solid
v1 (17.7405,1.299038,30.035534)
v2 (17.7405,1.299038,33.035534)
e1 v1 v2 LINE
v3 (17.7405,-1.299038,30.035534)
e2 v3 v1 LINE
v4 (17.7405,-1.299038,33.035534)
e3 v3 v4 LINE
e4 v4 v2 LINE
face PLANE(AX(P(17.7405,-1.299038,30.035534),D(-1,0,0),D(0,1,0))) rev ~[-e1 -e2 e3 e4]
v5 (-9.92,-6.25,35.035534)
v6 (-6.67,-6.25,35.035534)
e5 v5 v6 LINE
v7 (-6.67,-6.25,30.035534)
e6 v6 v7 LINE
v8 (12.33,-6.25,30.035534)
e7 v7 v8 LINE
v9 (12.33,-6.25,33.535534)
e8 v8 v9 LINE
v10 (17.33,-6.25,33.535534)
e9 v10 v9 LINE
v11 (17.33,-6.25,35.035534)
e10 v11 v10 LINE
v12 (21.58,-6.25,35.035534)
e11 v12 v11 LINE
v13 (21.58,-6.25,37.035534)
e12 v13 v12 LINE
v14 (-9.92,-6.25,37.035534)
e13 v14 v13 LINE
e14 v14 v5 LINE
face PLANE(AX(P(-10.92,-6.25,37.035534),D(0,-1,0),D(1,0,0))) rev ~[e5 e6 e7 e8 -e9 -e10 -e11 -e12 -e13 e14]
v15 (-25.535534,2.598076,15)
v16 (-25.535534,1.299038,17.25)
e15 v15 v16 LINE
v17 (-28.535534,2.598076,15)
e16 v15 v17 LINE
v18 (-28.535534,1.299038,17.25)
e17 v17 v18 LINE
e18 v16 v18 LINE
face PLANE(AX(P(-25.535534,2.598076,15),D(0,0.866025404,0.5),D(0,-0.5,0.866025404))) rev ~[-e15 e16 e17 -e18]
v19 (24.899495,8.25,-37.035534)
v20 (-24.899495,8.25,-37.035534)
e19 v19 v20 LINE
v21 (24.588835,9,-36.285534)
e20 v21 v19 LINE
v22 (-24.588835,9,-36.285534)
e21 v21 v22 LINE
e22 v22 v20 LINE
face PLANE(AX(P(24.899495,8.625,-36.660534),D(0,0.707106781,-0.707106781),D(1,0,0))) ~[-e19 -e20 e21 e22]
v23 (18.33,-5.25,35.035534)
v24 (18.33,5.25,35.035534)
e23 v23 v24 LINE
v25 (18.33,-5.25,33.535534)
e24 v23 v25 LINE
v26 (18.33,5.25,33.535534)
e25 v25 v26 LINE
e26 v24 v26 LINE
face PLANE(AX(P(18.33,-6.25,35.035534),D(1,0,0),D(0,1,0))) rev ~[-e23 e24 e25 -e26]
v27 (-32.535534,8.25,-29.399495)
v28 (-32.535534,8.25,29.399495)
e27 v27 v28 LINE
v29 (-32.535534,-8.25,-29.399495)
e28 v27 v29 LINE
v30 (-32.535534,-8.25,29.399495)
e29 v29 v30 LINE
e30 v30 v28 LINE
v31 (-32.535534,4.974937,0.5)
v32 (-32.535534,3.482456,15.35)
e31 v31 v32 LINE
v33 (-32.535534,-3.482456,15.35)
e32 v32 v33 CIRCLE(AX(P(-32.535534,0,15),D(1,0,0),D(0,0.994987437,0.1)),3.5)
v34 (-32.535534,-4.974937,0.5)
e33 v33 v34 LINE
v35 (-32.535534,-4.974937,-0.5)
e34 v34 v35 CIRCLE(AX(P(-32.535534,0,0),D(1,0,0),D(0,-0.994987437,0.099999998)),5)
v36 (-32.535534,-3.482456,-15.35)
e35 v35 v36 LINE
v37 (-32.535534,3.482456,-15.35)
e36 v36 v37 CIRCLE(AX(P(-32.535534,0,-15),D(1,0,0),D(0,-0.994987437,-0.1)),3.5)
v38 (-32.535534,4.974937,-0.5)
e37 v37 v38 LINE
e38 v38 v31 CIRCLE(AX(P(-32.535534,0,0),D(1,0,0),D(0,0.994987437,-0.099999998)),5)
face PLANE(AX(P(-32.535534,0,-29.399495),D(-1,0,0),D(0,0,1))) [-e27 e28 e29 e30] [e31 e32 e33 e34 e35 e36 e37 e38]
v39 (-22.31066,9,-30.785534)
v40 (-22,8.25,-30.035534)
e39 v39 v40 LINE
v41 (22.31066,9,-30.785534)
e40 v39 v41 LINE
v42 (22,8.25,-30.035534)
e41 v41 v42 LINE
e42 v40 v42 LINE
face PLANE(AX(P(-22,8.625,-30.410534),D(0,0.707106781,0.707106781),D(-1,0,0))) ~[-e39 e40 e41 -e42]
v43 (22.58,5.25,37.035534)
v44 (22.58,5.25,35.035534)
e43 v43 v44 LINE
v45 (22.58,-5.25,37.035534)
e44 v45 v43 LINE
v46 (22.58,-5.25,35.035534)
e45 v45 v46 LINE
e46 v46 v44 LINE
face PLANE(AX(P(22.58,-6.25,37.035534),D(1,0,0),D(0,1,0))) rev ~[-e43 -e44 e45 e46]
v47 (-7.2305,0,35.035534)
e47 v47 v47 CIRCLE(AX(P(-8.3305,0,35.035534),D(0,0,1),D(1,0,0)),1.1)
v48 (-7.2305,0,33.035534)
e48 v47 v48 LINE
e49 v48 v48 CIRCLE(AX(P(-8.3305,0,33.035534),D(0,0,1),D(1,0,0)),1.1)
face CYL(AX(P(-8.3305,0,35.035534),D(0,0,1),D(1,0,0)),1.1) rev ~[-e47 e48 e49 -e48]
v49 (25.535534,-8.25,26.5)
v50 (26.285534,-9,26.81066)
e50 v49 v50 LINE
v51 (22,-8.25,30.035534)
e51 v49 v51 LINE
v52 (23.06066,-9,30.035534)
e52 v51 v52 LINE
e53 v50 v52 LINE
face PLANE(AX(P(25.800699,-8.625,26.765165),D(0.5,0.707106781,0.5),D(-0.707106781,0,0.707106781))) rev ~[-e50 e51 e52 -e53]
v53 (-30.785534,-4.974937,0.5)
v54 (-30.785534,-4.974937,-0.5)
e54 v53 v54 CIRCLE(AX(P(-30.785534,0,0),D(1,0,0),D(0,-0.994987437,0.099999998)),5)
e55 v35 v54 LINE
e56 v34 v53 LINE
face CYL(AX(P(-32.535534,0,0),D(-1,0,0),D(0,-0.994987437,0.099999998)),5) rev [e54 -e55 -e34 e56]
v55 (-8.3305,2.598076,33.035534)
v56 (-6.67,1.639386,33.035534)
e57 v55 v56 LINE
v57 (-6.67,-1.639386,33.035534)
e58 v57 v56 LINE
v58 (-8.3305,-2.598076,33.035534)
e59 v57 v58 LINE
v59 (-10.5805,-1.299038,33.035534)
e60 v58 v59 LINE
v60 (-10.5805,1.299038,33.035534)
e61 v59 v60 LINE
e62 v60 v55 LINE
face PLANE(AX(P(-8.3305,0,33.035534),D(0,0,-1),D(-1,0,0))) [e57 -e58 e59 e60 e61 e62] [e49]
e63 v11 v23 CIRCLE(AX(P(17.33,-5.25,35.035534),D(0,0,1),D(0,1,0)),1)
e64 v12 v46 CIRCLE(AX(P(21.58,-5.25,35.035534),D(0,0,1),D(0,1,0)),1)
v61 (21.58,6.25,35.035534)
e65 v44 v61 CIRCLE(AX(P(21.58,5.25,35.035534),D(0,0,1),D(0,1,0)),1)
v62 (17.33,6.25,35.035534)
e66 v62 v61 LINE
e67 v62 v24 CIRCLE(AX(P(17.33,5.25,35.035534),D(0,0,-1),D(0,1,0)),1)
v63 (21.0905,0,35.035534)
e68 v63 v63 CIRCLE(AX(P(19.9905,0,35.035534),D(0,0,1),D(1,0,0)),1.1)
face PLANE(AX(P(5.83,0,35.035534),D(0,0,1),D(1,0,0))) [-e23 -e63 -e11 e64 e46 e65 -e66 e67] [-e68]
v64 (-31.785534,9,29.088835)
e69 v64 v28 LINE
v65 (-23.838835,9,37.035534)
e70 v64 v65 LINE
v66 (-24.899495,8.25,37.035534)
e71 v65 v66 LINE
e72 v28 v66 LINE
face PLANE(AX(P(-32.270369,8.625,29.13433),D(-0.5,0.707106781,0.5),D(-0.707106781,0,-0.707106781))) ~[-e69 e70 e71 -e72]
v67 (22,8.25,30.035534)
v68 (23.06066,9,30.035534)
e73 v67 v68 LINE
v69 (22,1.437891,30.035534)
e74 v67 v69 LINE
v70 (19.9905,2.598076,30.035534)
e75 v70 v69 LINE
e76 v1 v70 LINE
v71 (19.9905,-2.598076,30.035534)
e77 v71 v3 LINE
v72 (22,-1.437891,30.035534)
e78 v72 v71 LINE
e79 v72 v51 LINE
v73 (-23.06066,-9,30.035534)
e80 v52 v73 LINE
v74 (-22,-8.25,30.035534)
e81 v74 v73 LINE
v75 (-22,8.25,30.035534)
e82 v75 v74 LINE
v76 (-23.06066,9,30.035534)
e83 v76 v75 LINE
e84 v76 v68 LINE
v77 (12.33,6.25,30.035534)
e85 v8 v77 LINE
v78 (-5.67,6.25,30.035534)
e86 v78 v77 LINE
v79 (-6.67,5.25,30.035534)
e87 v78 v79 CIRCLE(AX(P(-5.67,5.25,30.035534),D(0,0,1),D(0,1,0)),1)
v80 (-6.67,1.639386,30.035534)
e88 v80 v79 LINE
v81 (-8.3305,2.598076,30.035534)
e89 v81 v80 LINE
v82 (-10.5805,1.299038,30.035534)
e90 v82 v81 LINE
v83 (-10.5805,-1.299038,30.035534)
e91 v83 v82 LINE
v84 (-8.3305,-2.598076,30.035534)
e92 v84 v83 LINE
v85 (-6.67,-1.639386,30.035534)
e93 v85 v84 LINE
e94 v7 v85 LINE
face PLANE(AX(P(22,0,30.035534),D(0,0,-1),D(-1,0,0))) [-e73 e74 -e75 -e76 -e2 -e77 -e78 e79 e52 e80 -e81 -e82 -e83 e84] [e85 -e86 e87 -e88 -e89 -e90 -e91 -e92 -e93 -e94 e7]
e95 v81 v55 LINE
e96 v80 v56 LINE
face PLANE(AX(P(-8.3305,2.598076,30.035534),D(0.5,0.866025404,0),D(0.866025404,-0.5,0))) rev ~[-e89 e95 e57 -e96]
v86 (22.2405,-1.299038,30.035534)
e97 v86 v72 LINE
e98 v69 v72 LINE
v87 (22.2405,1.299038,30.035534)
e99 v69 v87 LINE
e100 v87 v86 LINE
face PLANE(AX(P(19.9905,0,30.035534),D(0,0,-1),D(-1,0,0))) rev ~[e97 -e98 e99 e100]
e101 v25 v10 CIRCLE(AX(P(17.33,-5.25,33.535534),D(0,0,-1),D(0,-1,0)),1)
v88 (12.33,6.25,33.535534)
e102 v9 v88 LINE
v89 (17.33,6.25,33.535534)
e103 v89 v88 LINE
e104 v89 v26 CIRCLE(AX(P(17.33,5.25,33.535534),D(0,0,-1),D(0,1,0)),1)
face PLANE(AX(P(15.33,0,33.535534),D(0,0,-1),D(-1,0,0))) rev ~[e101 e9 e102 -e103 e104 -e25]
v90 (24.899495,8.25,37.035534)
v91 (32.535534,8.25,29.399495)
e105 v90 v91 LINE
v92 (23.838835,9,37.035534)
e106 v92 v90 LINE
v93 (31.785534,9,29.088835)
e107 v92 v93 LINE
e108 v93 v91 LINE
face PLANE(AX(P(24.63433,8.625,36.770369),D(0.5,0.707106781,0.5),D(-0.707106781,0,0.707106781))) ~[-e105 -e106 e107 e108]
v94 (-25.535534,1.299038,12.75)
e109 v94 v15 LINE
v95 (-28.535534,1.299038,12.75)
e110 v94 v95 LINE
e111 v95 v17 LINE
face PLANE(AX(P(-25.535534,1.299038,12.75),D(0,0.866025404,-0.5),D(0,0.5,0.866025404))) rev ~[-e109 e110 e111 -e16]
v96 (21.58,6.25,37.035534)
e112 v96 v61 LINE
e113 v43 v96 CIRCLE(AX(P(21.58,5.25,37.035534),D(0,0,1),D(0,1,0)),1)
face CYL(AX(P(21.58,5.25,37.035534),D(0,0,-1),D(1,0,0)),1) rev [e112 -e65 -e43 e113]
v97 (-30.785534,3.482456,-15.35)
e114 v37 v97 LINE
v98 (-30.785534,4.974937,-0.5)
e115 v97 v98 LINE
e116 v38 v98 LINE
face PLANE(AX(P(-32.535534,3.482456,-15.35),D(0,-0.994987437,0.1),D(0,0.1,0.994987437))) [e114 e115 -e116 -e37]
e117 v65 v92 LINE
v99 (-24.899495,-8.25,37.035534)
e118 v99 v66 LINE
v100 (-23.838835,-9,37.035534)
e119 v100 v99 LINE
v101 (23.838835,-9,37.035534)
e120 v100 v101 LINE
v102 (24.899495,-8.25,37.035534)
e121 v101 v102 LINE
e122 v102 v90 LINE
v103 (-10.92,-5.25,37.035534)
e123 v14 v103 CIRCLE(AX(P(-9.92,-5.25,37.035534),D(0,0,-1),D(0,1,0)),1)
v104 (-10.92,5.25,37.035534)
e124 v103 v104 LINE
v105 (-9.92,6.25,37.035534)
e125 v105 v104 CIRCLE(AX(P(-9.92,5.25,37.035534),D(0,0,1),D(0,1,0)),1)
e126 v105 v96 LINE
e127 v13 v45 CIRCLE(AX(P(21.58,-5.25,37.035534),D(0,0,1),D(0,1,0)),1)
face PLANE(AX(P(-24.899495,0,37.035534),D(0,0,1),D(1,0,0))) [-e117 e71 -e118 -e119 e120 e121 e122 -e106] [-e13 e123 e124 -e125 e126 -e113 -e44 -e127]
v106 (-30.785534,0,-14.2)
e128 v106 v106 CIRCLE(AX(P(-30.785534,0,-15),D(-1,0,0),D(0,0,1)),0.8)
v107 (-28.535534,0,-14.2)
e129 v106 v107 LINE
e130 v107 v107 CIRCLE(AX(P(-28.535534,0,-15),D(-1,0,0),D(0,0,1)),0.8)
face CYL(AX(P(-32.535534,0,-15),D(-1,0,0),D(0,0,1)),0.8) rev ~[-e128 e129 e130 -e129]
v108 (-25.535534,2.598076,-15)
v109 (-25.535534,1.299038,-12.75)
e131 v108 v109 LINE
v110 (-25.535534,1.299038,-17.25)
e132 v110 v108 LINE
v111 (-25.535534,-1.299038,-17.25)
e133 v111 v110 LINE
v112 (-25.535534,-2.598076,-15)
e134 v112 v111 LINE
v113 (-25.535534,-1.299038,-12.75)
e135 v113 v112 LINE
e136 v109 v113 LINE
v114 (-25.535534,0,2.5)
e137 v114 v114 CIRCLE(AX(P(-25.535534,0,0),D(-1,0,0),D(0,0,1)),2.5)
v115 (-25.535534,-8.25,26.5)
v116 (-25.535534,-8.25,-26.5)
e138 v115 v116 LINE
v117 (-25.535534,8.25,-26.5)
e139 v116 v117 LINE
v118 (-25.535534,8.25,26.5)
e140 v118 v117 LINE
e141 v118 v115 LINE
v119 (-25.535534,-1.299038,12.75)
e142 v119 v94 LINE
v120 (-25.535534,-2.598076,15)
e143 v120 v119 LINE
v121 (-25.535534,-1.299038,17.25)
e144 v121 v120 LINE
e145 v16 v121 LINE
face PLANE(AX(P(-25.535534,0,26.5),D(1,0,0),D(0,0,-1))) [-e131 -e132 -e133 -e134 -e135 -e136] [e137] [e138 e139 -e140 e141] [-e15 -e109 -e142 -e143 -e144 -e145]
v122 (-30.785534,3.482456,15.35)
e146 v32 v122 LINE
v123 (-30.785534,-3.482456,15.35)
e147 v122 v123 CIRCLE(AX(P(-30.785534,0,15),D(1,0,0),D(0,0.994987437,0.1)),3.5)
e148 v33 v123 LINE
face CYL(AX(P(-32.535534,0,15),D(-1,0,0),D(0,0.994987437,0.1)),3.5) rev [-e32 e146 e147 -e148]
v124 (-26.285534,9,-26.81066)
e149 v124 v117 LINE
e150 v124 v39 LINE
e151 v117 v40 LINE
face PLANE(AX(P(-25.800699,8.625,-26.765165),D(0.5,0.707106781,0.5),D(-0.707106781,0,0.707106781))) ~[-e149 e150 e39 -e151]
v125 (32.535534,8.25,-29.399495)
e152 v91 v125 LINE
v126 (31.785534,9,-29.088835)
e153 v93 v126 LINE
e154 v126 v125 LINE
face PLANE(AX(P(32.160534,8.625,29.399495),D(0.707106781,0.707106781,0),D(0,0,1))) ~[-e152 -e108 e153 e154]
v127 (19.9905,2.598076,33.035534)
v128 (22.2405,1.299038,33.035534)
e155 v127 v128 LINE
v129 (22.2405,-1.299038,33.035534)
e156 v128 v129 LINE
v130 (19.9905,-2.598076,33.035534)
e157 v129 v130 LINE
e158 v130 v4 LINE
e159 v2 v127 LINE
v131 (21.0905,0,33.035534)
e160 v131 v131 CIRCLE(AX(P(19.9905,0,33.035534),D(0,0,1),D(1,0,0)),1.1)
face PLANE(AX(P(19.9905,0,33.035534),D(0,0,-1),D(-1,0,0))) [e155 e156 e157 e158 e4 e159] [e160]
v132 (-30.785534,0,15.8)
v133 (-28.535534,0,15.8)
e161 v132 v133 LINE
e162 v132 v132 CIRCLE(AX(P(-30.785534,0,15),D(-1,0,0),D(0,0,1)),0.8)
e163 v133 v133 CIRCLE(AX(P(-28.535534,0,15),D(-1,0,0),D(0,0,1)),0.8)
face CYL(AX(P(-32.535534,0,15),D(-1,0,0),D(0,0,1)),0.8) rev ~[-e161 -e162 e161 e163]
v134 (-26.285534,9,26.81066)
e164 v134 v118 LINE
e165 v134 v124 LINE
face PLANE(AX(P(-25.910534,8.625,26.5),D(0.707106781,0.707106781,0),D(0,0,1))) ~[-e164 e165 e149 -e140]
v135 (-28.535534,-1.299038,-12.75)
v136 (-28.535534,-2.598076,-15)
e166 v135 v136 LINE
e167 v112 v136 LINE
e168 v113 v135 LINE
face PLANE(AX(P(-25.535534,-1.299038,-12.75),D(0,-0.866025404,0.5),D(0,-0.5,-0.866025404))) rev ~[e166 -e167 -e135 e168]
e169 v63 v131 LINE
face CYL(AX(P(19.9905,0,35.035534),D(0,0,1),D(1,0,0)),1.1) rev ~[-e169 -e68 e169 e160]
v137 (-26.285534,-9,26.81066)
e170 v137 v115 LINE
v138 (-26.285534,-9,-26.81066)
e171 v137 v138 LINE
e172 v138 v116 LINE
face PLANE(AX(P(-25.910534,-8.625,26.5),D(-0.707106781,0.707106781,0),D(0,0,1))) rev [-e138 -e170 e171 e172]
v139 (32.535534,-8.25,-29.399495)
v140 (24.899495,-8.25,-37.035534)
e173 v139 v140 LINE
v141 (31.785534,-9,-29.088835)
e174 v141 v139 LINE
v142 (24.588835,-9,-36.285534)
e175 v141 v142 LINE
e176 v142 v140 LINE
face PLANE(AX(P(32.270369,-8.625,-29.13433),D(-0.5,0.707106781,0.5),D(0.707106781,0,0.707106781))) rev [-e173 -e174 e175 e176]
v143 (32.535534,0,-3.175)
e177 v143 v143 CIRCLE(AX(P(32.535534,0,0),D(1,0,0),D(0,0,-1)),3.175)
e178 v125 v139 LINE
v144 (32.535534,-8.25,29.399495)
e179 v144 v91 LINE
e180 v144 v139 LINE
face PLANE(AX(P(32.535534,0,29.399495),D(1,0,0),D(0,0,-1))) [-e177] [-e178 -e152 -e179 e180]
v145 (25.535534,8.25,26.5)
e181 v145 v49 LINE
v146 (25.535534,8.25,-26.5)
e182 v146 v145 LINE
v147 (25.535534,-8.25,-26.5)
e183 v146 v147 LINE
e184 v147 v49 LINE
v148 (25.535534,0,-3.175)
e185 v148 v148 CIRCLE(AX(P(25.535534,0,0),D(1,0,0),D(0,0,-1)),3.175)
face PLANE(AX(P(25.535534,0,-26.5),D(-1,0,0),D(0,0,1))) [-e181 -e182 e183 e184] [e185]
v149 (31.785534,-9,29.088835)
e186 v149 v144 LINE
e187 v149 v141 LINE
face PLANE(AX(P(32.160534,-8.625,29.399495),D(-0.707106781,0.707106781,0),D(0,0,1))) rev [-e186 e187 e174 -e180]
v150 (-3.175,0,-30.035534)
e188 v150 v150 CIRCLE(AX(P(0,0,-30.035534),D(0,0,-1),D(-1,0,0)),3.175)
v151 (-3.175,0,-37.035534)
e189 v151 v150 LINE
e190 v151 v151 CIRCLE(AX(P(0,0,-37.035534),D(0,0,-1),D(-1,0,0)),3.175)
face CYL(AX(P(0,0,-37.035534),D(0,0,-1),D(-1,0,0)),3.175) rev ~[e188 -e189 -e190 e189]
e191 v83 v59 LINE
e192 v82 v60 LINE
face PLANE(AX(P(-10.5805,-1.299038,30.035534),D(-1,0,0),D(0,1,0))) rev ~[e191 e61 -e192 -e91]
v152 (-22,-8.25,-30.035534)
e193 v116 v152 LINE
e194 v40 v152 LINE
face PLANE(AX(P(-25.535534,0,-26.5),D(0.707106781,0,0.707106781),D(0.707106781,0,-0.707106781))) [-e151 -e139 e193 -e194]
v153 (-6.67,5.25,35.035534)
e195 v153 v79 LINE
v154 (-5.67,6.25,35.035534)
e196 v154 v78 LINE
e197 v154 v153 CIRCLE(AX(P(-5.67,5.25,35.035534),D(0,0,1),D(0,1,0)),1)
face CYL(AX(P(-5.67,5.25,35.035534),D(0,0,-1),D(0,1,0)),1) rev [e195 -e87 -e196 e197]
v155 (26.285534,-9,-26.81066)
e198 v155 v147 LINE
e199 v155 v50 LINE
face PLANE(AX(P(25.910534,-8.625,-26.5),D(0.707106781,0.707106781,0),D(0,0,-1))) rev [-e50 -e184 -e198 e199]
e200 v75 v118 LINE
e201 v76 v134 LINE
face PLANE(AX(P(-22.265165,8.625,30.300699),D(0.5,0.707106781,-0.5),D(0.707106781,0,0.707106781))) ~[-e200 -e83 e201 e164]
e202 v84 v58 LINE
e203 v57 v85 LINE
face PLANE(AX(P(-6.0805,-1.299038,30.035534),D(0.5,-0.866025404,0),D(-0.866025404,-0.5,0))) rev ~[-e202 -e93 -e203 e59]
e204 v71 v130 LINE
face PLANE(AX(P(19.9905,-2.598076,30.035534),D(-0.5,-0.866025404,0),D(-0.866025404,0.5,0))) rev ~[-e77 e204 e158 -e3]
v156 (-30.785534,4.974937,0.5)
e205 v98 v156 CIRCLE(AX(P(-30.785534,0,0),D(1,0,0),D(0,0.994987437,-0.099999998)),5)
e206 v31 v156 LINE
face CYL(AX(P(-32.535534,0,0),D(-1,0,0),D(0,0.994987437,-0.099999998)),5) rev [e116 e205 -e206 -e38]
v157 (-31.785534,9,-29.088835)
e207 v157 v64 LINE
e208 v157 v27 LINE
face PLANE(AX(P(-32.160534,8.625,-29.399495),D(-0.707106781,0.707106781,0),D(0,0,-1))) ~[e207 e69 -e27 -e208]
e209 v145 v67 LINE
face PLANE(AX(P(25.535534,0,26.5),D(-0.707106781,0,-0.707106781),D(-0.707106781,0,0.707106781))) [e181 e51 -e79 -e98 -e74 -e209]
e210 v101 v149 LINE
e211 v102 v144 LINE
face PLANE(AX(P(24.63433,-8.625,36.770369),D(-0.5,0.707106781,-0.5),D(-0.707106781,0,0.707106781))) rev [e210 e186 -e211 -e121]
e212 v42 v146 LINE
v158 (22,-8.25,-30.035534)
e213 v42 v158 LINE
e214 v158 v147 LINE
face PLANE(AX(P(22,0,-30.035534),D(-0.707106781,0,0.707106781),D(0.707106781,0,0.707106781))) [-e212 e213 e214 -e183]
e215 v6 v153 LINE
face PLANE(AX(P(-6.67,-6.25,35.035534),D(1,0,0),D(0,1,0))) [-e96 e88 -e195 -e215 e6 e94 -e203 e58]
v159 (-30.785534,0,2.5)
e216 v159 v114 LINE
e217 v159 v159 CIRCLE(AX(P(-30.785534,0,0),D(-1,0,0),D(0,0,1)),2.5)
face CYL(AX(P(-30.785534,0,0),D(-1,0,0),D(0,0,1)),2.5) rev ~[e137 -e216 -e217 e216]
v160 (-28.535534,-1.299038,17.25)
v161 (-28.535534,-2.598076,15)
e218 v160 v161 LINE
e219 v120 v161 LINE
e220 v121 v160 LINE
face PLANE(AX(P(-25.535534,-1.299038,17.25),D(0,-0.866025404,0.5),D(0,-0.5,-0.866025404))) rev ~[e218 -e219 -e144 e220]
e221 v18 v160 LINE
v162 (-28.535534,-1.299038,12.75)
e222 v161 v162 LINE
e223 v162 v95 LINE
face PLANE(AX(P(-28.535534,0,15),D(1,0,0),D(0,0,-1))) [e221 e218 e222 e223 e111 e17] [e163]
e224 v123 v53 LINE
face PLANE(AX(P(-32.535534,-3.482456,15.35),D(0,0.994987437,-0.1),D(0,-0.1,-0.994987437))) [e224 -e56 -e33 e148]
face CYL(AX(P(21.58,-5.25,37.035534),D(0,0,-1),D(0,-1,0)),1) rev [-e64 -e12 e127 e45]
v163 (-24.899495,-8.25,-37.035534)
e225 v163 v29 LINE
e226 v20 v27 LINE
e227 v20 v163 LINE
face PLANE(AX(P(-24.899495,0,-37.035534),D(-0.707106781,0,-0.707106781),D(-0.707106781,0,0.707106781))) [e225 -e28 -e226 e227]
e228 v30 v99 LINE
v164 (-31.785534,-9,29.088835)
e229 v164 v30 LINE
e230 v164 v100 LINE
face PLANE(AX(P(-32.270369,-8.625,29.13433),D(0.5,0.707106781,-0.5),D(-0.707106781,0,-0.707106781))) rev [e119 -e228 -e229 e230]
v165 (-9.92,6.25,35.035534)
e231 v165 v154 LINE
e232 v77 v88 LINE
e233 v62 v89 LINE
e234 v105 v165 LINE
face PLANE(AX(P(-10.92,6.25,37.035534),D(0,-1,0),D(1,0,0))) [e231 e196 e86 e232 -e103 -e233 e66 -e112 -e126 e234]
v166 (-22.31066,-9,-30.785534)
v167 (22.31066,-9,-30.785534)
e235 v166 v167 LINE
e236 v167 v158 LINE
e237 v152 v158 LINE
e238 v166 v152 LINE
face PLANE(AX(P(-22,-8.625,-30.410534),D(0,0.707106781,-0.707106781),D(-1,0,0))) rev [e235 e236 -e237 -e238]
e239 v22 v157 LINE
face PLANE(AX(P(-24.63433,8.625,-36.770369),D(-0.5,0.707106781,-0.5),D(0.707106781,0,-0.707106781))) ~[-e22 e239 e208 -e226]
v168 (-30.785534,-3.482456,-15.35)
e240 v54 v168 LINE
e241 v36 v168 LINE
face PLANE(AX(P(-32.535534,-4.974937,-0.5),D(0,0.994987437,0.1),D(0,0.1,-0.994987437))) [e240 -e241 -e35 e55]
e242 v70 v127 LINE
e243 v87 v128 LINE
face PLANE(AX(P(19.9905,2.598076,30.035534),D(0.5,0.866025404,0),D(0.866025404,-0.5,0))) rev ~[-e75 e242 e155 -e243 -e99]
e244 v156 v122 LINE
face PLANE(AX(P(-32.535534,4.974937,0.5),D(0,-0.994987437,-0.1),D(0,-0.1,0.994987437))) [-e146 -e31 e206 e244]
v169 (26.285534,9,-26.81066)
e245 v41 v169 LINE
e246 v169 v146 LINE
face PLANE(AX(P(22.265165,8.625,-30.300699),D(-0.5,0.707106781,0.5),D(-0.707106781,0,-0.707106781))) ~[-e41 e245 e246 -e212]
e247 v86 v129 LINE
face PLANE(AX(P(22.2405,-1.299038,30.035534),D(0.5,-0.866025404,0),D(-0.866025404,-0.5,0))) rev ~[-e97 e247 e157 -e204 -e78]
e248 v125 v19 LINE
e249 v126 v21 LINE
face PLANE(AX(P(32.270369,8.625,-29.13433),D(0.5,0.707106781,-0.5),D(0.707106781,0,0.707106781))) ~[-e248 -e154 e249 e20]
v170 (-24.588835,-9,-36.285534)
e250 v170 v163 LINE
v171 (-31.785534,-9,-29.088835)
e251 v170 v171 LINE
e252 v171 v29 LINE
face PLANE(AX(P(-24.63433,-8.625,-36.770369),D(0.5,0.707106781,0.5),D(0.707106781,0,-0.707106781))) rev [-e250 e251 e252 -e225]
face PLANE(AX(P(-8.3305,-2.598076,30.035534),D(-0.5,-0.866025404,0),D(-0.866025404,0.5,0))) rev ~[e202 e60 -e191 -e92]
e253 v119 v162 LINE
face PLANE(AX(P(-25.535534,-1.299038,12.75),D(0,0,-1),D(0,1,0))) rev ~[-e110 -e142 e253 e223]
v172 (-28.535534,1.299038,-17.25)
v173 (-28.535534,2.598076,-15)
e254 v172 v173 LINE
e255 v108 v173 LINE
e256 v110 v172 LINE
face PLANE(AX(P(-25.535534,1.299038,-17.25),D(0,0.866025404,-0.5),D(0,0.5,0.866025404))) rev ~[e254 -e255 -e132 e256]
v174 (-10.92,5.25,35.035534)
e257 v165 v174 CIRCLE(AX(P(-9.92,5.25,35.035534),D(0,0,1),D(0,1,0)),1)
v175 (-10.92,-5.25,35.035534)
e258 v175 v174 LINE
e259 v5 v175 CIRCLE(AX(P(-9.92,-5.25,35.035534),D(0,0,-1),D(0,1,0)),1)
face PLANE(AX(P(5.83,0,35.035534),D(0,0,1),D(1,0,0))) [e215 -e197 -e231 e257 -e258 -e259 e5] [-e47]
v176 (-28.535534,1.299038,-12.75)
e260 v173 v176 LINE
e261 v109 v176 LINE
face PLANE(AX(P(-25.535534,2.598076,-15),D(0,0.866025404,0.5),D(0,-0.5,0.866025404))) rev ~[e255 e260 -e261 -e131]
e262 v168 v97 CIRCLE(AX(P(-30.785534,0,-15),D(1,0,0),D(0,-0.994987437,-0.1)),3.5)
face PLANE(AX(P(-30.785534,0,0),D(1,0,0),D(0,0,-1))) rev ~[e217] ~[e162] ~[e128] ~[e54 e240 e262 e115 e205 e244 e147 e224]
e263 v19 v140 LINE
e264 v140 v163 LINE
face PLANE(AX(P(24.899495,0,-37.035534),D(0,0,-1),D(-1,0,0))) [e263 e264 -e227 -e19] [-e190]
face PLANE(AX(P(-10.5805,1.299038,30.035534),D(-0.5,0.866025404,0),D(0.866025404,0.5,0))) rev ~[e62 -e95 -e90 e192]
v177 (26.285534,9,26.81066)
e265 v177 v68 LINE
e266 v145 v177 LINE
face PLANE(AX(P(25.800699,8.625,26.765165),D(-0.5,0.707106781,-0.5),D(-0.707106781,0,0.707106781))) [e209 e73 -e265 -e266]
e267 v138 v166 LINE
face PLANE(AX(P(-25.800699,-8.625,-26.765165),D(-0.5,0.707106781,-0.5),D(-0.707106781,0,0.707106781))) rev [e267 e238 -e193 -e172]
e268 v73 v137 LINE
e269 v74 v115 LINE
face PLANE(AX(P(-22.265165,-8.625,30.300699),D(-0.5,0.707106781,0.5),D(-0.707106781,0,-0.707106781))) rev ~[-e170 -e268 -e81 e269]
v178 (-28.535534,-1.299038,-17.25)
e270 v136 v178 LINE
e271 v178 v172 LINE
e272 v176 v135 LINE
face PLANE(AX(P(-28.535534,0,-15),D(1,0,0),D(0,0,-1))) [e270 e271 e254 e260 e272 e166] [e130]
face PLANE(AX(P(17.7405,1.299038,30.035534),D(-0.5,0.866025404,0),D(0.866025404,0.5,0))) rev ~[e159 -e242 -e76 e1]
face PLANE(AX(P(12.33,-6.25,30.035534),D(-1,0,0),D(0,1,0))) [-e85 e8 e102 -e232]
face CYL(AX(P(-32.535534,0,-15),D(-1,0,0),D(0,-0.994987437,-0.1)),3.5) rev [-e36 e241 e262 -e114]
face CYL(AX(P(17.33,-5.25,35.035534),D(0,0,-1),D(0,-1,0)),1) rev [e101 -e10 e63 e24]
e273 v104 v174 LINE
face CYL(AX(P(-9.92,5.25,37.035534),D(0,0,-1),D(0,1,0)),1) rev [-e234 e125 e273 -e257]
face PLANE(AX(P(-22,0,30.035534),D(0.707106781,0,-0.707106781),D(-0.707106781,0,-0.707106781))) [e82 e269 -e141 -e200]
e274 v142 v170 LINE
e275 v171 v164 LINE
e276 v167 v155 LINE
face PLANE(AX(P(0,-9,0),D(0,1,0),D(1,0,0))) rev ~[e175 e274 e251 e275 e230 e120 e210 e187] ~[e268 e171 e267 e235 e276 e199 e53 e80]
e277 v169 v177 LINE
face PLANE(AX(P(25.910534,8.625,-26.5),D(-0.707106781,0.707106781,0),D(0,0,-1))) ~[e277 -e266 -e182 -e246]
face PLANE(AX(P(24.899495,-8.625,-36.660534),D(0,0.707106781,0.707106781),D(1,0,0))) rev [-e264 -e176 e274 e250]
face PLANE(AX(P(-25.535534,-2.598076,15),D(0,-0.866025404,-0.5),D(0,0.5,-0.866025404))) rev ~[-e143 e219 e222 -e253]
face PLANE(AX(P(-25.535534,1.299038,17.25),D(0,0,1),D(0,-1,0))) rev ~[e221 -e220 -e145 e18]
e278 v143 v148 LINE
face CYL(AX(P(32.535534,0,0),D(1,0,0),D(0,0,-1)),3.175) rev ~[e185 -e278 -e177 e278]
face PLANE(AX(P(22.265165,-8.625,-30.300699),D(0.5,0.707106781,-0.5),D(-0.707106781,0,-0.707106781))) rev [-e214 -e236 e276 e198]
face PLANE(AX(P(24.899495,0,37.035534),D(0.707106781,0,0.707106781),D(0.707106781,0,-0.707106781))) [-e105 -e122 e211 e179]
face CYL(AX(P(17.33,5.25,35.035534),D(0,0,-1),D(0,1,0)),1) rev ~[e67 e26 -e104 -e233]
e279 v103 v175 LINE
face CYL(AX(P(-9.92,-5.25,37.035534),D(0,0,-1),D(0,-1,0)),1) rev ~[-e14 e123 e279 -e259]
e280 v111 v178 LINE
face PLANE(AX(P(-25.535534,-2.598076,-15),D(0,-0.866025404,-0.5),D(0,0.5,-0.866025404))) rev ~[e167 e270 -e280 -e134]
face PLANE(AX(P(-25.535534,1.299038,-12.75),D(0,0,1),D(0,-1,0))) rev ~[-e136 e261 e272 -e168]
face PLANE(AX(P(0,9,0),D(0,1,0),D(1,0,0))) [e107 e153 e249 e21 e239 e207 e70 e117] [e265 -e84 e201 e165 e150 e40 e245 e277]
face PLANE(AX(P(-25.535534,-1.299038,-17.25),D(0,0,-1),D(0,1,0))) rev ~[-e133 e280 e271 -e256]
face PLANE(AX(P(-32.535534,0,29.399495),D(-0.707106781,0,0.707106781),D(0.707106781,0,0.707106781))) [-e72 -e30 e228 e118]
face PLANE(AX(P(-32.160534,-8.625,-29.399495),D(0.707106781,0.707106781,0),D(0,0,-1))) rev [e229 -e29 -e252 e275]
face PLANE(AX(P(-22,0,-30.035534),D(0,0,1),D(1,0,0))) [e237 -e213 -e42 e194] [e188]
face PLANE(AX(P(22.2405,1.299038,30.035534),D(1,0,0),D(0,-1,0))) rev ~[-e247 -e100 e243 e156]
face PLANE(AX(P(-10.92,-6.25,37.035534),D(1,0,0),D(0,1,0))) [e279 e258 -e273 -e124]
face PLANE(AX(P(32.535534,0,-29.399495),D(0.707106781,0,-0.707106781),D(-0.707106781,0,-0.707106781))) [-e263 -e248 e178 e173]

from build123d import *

# Parameters (mm, degrees)
BOSS_EXTRUDE1_DEPTH = 9
BEARING_HOLE_REACH  = 67.071
SKETCH11_R          = 3.175
CUT_EXTRUDE23_REACH = 67.071
SKETCH27_R          = 0.8
CUT_EXTRUDE25_DEPTH = 1.75
CUT_EXTRUDE26_REACH = 65.321
SKETCH28_R          = 2.5
CUT_EXTRUDE27_REACH = 76.071
SKETCH29_R          = 3.175
SKETCH35_W          = 33.5
SKETCH35_H          = 12.5
CUT_EXTRUDE29_DEPTH = 2
CUT_EXTRUDE30_REACH = 74.071
SKETCH36_W          = 25
SKETCH36_H          = 12.5
CUT_EXTRUDE31_REACH = 74.071
SKETCH37_R          = 1.1
FILLET1_R           = 1
SKETCH41_W          = 6
SKETCH41_H          = 12.5
BOSS_EXTRUDE4_DEPTH = 3.5
CUT_EXTRUDE32_DEPTH = 3
CUT_EXTRUDE33_DEPTH = 3
CHAMFER2_SIZE       = 0.75


with BuildPart() as part:
    # Sketch1 → Boss-Extrude1 (new body, symmetric)
    with BuildSketch(Plane(origin=(0, 0, 0), x_dir=(1, 0, 0), z_dir=(0, 1, 0))):
        Polygon((-32.535533906, 29.399494937), (-32.535533906, -29.399494937), (-24.899494937, -37.035533906), (24.899494937, -37.035533906), (32.535533906, -29.399494937), (32.535533906, 29.399494937), (24.899494937, 37.035533906), (-24.899494937, 37.035533906), align=None)
        Polygon((-25.535533906, 26.5), (-22, 30.035533906), (22, 30.035533906), (25.535533906, 26.5), (25.535533906, -26.5), (22, -30.035533906), (-22, -30.035533906), (-25.535533906, -26.5), align=None, mode=Mode.SUBTRACT)
    extrude(amount=BOSS_EXTRUDE1_DEPTH, both=True)

    # Sketch11 → Bearing Hole (cut, up to next)
    with BuildSketch(Plane(origin=(32.535533906, 0, 0), x_dir=(0, 0, -1), z_dir=(1, 0, 0)), mode=Mode.PRIVATE) as bearing_hole_sk1:
        Circle(SKETCH11_R)
    bearing_hole_tool1 = extrude(bearing_hole_sk1.sketch, amount=-BEARING_HOLE_REACH, mode=Mode.PRIVATE) & part.part
    add(bearing_hole_tool1.solids().sort_by_distance((32.535534, 0, 0))[0], mode=Mode.SUBTRACT)

    # Sketch27 → Cut-Extrude23 (cut, up to next)
    with BuildSketch(Plane.ZY.offset(32.535533906), mode=Mode.PRIVATE) as cut_extrude23_sk1:
        with Locations((-15, 0)):
            Circle(SKETCH27_R)
    cut_extrude23_tool1 = extrude(cut_extrude23_sk1.sketch, amount=-CUT_EXTRUDE23_REACH, mode=Mode.PRIVATE) & part.part
    add(cut_extrude23_tool1.solids().sort_by_distance((-32.535534, 0, -15))[0], mode=Mode.SUBTRACT)
    # Sketch27 → Cut-Extrude23 (cut, up to next)
    with BuildSketch(Plane.ZY.offset(32.535533906), mode=Mode.PRIVATE) as cut_extrude23_sk2:
        with Locations((15, 0)):
            Circle(SKETCH27_R)
    cut_extrude23_tool2 = extrude(cut_extrude23_sk2.sketch, amount=-CUT_EXTRUDE23_REACH, mode=Mode.PRIVATE) & part.part
    add(cut_extrude23_tool2.solids().sort_by_distance((-32.535534, 0, 15))[0], mode=Mode.SUBTRACT)

    # Sketch25 → Cut-Extrude25 (cut)
    with BuildSketch(Plane.ZY.offset(32.535533906)):
        with BuildLine():
            Line((-15.35, 3.48245603), (-0.5, 4.974937186))
            ThreePointArc((-0.5, 4.974937186), (0, 5), (0.5, 4.974937186))
            Line((0.5, 4.974937186), (15.35, 3.48245603))
            ThreePointArc((15.35, 3.48245603), (18.5, 0), (15.35, -3.48245603))
            Line((15.35, -3.48245603), (0.5, -4.974937186))
            ThreePointArc((0.5, -4.974937186), (0, -5), (-0.5, -4.974937186))
            Line((-0.5, -4.974937186), (-15.35, -3.48245603))
            ThreePointArc((-15.35, -3.48245603), (-18.5, 0), (-15.35, 3.48245603))
        make_face()
    extrude(amount=-CUT_EXTRUDE25_DEPTH, mode=Mode.SUBTRACT)

    # Sketch28 → Cut-Extrude26 (cut, up to next)
    with BuildSketch(Plane.ZY.offset(30.785533906), mode=Mode.PRIVATE) as cut_extrude26_sk1:
        Circle(SKETCH28_R)
    cut_extrude26_tool1 = extrude(cut_extrude26_sk1.sketch, amount=-CUT_EXTRUDE26_REACH, mode=Mode.PRIVATE) & part.part
    add(cut_extrude26_tool1.solids().sort_by_distance((-30.785534, 0, 0))[0], mode=Mode.SUBTRACT)

    # Sketch29 → Cut-Extrude27 (cut, up to next)
    with BuildSketch(Plane(origin=(0, 0, -37.035533906), x_dir=(-1, 0, 0), z_dir=(0, 0, -1)), mode=Mode.PRIVATE) as cut_extrude27_sk1:
        Circle(SKETCH29_R)
    cut_extrude27_tool1 = extrude(cut_extrude27_sk1.sketch, amount=-CUT_EXTRUDE27_REACH, mode=Mode.PRIVATE) & part.part
    add(cut_extrude27_tool1.solids().sort_by_distance((0, 0, -37.035534))[0], mode=Mode.SUBTRACT)

    # Sketch35 → Cut-Extrude29 (cut)
    with BuildSketch(Plane.XY.offset(37.035533906)):
        with Locations((5.83, 0)):
            Rectangle(SKETCH35_W, SKETCH35_H)
    extrude(amount=-CUT_EXTRUDE29_DEPTH, mode=Mode.SUBTRACT)

    # Sketch36 → Cut-Extrude30 (cut, up to next)
    with BuildSketch(Plane.XY.offset(35.035533906), mode=Mode.PRIVATE) as cut_extrude30_sk1:
        with Locations((5.83, 0)):
            Rectangle(SKETCH36_W, SKETCH36_H)
    cut_extrude30_tool1 = extrude(cut_extrude30_sk1.sketch, amount=-CUT_EXTRUDE30_REACH, mode=Mode.PRIVATE) & part.part
    add(cut_extrude30_tool1.solids().sort_by_distance((5.83, 0, 35.035534))[0], mode=Mode.SUBTRACT)

    # Sketch37 → Cut-Extrude31 (cut, up to next)
    with BuildSketch(Plane.XY.offset(35.035533906), mode=Mode.PRIVATE) as cut_extrude31_sk1:
        with Locations((19.9905, 0)):
            Circle(SKETCH37_R)
    cut_extrude31_tool1 = extrude(cut_extrude31_sk1.sketch, amount=-CUT_EXTRUDE31_REACH, mode=Mode.PRIVATE) & part.part
    add(cut_extrude31_tool1.solids().sort_by_distance((19.9905, 0, 35.035534))[0], mode=Mode.SUBTRACT)
    # Sketch37 → Cut-Extrude31 (cut, up to next)
    with BuildSketch(Plane.XY.offset(35.035533906), mode=Mode.PRIVATE) as cut_extrude31_sk2:
        with Locations((-8.3305, 0)):
            Circle(SKETCH37_R)
    cut_extrude31_tool2 = extrude(cut_extrude31_sk2.sketch, amount=-CUT_EXTRUDE31_REACH, mode=Mode.PRIVATE) & part.part
    add(cut_extrude31_tool2.solids().sort_by_distance((-8.3305, 0, 35.035534))[0], mode=Mode.SUBTRACT)

    # Fillet1
    fillet1_edges = [part.edges().sort_by_distance(p)[0] for p in [
        (22.58, 6.25, 36.035533906),
        (22.58, -6.25, 36.035533906),
        (-10.92, -6.25, 36.035533906),
        (-10.92, 6.25, 36.035533906),
        (18.33, 6.25, 32.535533906),
        (18.33, -6.25, 32.535533906),
        (-6.67, 6.25, 32.535533906),
    ]]
    fillet(fillet1_edges, radius=FILLET1_R)

    # Sketch41 → Boss-Extrude4 (add)
    with BuildSketch(Plane(origin=(0, 0, 30.035533906), x_dir=(-1, 0, 0), z_dir=(0, 0, -1))):
        with Locations((-15.33, 0)):
            Rectangle(SKETCH41_W, SKETCH41_H)
    extrude(amount=-BOSS_EXTRUDE4_DEPTH)

    # Sketch42 → Cut-Extrude32 (cut)
    with BuildSketch(Plane(origin=(-25.535533906, 0, 0), x_dir=(0, 0, -1), z_dir=(1, 0, 0))):
        Polygon((-12.75, -1.299038106), (-12.75, 1.299038106), (-15, 2.598076211), (-17.25, 1.299038106), (-17.25, -1.299038106), (-15, -2.598076211), align=None)
        Polygon((17.25, 1.299038106), (15, 2.598076211), (12.75, 1.299038106), (12.75, -1.299038106), (15, -2.598076211), (17.25, -1.299038106), align=None)
    extrude(amount=-CUT_EXTRUDE32_DEPTH, mode=Mode.SUBTRACT)

    # Sketch43 → Cut-Extrude33 (cut)
    with BuildSketch(Plane(origin=(0, 0, 30.035533906), x_dir=(-1, 0, 0), z_dir=(0, 0, -1))):
        Polygon((-17.7405, -1.299038106), (-17.7405, 1.299038106), (-19.9905, 2.598076211), (-22.2405, 1.299038106), (-22.2405, -1.299038106), (-19.9905, -2.598076211), align=None)
        Polygon((6.0805, -1.299038106), (8.3305, -2.598076211), (10.5805, -1.299038106), (10.5805, 1.299038106), (8.3305, 2.598076211), (6.0805, 1.299038106), align=None)
    extrude(amount=-CUT_EXTRUDE33_DEPTH, mode=Mode.SUBTRACT)

    # Chamfer2
    chamfer2_edges = [part.edges().sort_by_distance(p)[0] for p in [
        (-28.717514421, 9, 33.217514421),
        (-32.535533906, -9, 0),
        (-28.717514421, -9, -33.217514421),
        (28.717514421, 9, 33.217514421),
        (32.535533906, 9, 0),
        (28.717514421, 9, -33.217514421),
        (0, 9, -37.035533906),
        (-25.535533906, -9, 0),
        (-23.767766953, -9, 28.267766953),
        (23.767766953, -9, 28.267766953),
        (25.535533906, -9, 0),
        (23.767766953, -9, -28.267766953),
        (0, -9, -30.035533906),
        (-23.767766953, -9, -28.267766953),
        (-25.535533906, 9, 0),
        (-23.767766953, 9, 28.267766953),
        (23.767766953, 9, 28.267766953),
        (25.535533906, 9, 0),
        (23.767766953, 9, -28.267766953),
        (0, 9, -30.035533906),
        (-23.767766953, 9, -28.267766953),
        (-28.717514421, 9, -33.217514421),
        (-32.535533906, 9, 0),
        (0, -9, -37.035533906),
        (28.717514421, -9, -33.217514421),
        (32.535533906, -9, 0),
        (28.717514421, -9, 33.217514421),
        (-28.717514421, -9, 33.217514421),
    ]]
    chamfer(chamfer2_edges, length=CHAMFER2_SIZE)


solid = part.part
